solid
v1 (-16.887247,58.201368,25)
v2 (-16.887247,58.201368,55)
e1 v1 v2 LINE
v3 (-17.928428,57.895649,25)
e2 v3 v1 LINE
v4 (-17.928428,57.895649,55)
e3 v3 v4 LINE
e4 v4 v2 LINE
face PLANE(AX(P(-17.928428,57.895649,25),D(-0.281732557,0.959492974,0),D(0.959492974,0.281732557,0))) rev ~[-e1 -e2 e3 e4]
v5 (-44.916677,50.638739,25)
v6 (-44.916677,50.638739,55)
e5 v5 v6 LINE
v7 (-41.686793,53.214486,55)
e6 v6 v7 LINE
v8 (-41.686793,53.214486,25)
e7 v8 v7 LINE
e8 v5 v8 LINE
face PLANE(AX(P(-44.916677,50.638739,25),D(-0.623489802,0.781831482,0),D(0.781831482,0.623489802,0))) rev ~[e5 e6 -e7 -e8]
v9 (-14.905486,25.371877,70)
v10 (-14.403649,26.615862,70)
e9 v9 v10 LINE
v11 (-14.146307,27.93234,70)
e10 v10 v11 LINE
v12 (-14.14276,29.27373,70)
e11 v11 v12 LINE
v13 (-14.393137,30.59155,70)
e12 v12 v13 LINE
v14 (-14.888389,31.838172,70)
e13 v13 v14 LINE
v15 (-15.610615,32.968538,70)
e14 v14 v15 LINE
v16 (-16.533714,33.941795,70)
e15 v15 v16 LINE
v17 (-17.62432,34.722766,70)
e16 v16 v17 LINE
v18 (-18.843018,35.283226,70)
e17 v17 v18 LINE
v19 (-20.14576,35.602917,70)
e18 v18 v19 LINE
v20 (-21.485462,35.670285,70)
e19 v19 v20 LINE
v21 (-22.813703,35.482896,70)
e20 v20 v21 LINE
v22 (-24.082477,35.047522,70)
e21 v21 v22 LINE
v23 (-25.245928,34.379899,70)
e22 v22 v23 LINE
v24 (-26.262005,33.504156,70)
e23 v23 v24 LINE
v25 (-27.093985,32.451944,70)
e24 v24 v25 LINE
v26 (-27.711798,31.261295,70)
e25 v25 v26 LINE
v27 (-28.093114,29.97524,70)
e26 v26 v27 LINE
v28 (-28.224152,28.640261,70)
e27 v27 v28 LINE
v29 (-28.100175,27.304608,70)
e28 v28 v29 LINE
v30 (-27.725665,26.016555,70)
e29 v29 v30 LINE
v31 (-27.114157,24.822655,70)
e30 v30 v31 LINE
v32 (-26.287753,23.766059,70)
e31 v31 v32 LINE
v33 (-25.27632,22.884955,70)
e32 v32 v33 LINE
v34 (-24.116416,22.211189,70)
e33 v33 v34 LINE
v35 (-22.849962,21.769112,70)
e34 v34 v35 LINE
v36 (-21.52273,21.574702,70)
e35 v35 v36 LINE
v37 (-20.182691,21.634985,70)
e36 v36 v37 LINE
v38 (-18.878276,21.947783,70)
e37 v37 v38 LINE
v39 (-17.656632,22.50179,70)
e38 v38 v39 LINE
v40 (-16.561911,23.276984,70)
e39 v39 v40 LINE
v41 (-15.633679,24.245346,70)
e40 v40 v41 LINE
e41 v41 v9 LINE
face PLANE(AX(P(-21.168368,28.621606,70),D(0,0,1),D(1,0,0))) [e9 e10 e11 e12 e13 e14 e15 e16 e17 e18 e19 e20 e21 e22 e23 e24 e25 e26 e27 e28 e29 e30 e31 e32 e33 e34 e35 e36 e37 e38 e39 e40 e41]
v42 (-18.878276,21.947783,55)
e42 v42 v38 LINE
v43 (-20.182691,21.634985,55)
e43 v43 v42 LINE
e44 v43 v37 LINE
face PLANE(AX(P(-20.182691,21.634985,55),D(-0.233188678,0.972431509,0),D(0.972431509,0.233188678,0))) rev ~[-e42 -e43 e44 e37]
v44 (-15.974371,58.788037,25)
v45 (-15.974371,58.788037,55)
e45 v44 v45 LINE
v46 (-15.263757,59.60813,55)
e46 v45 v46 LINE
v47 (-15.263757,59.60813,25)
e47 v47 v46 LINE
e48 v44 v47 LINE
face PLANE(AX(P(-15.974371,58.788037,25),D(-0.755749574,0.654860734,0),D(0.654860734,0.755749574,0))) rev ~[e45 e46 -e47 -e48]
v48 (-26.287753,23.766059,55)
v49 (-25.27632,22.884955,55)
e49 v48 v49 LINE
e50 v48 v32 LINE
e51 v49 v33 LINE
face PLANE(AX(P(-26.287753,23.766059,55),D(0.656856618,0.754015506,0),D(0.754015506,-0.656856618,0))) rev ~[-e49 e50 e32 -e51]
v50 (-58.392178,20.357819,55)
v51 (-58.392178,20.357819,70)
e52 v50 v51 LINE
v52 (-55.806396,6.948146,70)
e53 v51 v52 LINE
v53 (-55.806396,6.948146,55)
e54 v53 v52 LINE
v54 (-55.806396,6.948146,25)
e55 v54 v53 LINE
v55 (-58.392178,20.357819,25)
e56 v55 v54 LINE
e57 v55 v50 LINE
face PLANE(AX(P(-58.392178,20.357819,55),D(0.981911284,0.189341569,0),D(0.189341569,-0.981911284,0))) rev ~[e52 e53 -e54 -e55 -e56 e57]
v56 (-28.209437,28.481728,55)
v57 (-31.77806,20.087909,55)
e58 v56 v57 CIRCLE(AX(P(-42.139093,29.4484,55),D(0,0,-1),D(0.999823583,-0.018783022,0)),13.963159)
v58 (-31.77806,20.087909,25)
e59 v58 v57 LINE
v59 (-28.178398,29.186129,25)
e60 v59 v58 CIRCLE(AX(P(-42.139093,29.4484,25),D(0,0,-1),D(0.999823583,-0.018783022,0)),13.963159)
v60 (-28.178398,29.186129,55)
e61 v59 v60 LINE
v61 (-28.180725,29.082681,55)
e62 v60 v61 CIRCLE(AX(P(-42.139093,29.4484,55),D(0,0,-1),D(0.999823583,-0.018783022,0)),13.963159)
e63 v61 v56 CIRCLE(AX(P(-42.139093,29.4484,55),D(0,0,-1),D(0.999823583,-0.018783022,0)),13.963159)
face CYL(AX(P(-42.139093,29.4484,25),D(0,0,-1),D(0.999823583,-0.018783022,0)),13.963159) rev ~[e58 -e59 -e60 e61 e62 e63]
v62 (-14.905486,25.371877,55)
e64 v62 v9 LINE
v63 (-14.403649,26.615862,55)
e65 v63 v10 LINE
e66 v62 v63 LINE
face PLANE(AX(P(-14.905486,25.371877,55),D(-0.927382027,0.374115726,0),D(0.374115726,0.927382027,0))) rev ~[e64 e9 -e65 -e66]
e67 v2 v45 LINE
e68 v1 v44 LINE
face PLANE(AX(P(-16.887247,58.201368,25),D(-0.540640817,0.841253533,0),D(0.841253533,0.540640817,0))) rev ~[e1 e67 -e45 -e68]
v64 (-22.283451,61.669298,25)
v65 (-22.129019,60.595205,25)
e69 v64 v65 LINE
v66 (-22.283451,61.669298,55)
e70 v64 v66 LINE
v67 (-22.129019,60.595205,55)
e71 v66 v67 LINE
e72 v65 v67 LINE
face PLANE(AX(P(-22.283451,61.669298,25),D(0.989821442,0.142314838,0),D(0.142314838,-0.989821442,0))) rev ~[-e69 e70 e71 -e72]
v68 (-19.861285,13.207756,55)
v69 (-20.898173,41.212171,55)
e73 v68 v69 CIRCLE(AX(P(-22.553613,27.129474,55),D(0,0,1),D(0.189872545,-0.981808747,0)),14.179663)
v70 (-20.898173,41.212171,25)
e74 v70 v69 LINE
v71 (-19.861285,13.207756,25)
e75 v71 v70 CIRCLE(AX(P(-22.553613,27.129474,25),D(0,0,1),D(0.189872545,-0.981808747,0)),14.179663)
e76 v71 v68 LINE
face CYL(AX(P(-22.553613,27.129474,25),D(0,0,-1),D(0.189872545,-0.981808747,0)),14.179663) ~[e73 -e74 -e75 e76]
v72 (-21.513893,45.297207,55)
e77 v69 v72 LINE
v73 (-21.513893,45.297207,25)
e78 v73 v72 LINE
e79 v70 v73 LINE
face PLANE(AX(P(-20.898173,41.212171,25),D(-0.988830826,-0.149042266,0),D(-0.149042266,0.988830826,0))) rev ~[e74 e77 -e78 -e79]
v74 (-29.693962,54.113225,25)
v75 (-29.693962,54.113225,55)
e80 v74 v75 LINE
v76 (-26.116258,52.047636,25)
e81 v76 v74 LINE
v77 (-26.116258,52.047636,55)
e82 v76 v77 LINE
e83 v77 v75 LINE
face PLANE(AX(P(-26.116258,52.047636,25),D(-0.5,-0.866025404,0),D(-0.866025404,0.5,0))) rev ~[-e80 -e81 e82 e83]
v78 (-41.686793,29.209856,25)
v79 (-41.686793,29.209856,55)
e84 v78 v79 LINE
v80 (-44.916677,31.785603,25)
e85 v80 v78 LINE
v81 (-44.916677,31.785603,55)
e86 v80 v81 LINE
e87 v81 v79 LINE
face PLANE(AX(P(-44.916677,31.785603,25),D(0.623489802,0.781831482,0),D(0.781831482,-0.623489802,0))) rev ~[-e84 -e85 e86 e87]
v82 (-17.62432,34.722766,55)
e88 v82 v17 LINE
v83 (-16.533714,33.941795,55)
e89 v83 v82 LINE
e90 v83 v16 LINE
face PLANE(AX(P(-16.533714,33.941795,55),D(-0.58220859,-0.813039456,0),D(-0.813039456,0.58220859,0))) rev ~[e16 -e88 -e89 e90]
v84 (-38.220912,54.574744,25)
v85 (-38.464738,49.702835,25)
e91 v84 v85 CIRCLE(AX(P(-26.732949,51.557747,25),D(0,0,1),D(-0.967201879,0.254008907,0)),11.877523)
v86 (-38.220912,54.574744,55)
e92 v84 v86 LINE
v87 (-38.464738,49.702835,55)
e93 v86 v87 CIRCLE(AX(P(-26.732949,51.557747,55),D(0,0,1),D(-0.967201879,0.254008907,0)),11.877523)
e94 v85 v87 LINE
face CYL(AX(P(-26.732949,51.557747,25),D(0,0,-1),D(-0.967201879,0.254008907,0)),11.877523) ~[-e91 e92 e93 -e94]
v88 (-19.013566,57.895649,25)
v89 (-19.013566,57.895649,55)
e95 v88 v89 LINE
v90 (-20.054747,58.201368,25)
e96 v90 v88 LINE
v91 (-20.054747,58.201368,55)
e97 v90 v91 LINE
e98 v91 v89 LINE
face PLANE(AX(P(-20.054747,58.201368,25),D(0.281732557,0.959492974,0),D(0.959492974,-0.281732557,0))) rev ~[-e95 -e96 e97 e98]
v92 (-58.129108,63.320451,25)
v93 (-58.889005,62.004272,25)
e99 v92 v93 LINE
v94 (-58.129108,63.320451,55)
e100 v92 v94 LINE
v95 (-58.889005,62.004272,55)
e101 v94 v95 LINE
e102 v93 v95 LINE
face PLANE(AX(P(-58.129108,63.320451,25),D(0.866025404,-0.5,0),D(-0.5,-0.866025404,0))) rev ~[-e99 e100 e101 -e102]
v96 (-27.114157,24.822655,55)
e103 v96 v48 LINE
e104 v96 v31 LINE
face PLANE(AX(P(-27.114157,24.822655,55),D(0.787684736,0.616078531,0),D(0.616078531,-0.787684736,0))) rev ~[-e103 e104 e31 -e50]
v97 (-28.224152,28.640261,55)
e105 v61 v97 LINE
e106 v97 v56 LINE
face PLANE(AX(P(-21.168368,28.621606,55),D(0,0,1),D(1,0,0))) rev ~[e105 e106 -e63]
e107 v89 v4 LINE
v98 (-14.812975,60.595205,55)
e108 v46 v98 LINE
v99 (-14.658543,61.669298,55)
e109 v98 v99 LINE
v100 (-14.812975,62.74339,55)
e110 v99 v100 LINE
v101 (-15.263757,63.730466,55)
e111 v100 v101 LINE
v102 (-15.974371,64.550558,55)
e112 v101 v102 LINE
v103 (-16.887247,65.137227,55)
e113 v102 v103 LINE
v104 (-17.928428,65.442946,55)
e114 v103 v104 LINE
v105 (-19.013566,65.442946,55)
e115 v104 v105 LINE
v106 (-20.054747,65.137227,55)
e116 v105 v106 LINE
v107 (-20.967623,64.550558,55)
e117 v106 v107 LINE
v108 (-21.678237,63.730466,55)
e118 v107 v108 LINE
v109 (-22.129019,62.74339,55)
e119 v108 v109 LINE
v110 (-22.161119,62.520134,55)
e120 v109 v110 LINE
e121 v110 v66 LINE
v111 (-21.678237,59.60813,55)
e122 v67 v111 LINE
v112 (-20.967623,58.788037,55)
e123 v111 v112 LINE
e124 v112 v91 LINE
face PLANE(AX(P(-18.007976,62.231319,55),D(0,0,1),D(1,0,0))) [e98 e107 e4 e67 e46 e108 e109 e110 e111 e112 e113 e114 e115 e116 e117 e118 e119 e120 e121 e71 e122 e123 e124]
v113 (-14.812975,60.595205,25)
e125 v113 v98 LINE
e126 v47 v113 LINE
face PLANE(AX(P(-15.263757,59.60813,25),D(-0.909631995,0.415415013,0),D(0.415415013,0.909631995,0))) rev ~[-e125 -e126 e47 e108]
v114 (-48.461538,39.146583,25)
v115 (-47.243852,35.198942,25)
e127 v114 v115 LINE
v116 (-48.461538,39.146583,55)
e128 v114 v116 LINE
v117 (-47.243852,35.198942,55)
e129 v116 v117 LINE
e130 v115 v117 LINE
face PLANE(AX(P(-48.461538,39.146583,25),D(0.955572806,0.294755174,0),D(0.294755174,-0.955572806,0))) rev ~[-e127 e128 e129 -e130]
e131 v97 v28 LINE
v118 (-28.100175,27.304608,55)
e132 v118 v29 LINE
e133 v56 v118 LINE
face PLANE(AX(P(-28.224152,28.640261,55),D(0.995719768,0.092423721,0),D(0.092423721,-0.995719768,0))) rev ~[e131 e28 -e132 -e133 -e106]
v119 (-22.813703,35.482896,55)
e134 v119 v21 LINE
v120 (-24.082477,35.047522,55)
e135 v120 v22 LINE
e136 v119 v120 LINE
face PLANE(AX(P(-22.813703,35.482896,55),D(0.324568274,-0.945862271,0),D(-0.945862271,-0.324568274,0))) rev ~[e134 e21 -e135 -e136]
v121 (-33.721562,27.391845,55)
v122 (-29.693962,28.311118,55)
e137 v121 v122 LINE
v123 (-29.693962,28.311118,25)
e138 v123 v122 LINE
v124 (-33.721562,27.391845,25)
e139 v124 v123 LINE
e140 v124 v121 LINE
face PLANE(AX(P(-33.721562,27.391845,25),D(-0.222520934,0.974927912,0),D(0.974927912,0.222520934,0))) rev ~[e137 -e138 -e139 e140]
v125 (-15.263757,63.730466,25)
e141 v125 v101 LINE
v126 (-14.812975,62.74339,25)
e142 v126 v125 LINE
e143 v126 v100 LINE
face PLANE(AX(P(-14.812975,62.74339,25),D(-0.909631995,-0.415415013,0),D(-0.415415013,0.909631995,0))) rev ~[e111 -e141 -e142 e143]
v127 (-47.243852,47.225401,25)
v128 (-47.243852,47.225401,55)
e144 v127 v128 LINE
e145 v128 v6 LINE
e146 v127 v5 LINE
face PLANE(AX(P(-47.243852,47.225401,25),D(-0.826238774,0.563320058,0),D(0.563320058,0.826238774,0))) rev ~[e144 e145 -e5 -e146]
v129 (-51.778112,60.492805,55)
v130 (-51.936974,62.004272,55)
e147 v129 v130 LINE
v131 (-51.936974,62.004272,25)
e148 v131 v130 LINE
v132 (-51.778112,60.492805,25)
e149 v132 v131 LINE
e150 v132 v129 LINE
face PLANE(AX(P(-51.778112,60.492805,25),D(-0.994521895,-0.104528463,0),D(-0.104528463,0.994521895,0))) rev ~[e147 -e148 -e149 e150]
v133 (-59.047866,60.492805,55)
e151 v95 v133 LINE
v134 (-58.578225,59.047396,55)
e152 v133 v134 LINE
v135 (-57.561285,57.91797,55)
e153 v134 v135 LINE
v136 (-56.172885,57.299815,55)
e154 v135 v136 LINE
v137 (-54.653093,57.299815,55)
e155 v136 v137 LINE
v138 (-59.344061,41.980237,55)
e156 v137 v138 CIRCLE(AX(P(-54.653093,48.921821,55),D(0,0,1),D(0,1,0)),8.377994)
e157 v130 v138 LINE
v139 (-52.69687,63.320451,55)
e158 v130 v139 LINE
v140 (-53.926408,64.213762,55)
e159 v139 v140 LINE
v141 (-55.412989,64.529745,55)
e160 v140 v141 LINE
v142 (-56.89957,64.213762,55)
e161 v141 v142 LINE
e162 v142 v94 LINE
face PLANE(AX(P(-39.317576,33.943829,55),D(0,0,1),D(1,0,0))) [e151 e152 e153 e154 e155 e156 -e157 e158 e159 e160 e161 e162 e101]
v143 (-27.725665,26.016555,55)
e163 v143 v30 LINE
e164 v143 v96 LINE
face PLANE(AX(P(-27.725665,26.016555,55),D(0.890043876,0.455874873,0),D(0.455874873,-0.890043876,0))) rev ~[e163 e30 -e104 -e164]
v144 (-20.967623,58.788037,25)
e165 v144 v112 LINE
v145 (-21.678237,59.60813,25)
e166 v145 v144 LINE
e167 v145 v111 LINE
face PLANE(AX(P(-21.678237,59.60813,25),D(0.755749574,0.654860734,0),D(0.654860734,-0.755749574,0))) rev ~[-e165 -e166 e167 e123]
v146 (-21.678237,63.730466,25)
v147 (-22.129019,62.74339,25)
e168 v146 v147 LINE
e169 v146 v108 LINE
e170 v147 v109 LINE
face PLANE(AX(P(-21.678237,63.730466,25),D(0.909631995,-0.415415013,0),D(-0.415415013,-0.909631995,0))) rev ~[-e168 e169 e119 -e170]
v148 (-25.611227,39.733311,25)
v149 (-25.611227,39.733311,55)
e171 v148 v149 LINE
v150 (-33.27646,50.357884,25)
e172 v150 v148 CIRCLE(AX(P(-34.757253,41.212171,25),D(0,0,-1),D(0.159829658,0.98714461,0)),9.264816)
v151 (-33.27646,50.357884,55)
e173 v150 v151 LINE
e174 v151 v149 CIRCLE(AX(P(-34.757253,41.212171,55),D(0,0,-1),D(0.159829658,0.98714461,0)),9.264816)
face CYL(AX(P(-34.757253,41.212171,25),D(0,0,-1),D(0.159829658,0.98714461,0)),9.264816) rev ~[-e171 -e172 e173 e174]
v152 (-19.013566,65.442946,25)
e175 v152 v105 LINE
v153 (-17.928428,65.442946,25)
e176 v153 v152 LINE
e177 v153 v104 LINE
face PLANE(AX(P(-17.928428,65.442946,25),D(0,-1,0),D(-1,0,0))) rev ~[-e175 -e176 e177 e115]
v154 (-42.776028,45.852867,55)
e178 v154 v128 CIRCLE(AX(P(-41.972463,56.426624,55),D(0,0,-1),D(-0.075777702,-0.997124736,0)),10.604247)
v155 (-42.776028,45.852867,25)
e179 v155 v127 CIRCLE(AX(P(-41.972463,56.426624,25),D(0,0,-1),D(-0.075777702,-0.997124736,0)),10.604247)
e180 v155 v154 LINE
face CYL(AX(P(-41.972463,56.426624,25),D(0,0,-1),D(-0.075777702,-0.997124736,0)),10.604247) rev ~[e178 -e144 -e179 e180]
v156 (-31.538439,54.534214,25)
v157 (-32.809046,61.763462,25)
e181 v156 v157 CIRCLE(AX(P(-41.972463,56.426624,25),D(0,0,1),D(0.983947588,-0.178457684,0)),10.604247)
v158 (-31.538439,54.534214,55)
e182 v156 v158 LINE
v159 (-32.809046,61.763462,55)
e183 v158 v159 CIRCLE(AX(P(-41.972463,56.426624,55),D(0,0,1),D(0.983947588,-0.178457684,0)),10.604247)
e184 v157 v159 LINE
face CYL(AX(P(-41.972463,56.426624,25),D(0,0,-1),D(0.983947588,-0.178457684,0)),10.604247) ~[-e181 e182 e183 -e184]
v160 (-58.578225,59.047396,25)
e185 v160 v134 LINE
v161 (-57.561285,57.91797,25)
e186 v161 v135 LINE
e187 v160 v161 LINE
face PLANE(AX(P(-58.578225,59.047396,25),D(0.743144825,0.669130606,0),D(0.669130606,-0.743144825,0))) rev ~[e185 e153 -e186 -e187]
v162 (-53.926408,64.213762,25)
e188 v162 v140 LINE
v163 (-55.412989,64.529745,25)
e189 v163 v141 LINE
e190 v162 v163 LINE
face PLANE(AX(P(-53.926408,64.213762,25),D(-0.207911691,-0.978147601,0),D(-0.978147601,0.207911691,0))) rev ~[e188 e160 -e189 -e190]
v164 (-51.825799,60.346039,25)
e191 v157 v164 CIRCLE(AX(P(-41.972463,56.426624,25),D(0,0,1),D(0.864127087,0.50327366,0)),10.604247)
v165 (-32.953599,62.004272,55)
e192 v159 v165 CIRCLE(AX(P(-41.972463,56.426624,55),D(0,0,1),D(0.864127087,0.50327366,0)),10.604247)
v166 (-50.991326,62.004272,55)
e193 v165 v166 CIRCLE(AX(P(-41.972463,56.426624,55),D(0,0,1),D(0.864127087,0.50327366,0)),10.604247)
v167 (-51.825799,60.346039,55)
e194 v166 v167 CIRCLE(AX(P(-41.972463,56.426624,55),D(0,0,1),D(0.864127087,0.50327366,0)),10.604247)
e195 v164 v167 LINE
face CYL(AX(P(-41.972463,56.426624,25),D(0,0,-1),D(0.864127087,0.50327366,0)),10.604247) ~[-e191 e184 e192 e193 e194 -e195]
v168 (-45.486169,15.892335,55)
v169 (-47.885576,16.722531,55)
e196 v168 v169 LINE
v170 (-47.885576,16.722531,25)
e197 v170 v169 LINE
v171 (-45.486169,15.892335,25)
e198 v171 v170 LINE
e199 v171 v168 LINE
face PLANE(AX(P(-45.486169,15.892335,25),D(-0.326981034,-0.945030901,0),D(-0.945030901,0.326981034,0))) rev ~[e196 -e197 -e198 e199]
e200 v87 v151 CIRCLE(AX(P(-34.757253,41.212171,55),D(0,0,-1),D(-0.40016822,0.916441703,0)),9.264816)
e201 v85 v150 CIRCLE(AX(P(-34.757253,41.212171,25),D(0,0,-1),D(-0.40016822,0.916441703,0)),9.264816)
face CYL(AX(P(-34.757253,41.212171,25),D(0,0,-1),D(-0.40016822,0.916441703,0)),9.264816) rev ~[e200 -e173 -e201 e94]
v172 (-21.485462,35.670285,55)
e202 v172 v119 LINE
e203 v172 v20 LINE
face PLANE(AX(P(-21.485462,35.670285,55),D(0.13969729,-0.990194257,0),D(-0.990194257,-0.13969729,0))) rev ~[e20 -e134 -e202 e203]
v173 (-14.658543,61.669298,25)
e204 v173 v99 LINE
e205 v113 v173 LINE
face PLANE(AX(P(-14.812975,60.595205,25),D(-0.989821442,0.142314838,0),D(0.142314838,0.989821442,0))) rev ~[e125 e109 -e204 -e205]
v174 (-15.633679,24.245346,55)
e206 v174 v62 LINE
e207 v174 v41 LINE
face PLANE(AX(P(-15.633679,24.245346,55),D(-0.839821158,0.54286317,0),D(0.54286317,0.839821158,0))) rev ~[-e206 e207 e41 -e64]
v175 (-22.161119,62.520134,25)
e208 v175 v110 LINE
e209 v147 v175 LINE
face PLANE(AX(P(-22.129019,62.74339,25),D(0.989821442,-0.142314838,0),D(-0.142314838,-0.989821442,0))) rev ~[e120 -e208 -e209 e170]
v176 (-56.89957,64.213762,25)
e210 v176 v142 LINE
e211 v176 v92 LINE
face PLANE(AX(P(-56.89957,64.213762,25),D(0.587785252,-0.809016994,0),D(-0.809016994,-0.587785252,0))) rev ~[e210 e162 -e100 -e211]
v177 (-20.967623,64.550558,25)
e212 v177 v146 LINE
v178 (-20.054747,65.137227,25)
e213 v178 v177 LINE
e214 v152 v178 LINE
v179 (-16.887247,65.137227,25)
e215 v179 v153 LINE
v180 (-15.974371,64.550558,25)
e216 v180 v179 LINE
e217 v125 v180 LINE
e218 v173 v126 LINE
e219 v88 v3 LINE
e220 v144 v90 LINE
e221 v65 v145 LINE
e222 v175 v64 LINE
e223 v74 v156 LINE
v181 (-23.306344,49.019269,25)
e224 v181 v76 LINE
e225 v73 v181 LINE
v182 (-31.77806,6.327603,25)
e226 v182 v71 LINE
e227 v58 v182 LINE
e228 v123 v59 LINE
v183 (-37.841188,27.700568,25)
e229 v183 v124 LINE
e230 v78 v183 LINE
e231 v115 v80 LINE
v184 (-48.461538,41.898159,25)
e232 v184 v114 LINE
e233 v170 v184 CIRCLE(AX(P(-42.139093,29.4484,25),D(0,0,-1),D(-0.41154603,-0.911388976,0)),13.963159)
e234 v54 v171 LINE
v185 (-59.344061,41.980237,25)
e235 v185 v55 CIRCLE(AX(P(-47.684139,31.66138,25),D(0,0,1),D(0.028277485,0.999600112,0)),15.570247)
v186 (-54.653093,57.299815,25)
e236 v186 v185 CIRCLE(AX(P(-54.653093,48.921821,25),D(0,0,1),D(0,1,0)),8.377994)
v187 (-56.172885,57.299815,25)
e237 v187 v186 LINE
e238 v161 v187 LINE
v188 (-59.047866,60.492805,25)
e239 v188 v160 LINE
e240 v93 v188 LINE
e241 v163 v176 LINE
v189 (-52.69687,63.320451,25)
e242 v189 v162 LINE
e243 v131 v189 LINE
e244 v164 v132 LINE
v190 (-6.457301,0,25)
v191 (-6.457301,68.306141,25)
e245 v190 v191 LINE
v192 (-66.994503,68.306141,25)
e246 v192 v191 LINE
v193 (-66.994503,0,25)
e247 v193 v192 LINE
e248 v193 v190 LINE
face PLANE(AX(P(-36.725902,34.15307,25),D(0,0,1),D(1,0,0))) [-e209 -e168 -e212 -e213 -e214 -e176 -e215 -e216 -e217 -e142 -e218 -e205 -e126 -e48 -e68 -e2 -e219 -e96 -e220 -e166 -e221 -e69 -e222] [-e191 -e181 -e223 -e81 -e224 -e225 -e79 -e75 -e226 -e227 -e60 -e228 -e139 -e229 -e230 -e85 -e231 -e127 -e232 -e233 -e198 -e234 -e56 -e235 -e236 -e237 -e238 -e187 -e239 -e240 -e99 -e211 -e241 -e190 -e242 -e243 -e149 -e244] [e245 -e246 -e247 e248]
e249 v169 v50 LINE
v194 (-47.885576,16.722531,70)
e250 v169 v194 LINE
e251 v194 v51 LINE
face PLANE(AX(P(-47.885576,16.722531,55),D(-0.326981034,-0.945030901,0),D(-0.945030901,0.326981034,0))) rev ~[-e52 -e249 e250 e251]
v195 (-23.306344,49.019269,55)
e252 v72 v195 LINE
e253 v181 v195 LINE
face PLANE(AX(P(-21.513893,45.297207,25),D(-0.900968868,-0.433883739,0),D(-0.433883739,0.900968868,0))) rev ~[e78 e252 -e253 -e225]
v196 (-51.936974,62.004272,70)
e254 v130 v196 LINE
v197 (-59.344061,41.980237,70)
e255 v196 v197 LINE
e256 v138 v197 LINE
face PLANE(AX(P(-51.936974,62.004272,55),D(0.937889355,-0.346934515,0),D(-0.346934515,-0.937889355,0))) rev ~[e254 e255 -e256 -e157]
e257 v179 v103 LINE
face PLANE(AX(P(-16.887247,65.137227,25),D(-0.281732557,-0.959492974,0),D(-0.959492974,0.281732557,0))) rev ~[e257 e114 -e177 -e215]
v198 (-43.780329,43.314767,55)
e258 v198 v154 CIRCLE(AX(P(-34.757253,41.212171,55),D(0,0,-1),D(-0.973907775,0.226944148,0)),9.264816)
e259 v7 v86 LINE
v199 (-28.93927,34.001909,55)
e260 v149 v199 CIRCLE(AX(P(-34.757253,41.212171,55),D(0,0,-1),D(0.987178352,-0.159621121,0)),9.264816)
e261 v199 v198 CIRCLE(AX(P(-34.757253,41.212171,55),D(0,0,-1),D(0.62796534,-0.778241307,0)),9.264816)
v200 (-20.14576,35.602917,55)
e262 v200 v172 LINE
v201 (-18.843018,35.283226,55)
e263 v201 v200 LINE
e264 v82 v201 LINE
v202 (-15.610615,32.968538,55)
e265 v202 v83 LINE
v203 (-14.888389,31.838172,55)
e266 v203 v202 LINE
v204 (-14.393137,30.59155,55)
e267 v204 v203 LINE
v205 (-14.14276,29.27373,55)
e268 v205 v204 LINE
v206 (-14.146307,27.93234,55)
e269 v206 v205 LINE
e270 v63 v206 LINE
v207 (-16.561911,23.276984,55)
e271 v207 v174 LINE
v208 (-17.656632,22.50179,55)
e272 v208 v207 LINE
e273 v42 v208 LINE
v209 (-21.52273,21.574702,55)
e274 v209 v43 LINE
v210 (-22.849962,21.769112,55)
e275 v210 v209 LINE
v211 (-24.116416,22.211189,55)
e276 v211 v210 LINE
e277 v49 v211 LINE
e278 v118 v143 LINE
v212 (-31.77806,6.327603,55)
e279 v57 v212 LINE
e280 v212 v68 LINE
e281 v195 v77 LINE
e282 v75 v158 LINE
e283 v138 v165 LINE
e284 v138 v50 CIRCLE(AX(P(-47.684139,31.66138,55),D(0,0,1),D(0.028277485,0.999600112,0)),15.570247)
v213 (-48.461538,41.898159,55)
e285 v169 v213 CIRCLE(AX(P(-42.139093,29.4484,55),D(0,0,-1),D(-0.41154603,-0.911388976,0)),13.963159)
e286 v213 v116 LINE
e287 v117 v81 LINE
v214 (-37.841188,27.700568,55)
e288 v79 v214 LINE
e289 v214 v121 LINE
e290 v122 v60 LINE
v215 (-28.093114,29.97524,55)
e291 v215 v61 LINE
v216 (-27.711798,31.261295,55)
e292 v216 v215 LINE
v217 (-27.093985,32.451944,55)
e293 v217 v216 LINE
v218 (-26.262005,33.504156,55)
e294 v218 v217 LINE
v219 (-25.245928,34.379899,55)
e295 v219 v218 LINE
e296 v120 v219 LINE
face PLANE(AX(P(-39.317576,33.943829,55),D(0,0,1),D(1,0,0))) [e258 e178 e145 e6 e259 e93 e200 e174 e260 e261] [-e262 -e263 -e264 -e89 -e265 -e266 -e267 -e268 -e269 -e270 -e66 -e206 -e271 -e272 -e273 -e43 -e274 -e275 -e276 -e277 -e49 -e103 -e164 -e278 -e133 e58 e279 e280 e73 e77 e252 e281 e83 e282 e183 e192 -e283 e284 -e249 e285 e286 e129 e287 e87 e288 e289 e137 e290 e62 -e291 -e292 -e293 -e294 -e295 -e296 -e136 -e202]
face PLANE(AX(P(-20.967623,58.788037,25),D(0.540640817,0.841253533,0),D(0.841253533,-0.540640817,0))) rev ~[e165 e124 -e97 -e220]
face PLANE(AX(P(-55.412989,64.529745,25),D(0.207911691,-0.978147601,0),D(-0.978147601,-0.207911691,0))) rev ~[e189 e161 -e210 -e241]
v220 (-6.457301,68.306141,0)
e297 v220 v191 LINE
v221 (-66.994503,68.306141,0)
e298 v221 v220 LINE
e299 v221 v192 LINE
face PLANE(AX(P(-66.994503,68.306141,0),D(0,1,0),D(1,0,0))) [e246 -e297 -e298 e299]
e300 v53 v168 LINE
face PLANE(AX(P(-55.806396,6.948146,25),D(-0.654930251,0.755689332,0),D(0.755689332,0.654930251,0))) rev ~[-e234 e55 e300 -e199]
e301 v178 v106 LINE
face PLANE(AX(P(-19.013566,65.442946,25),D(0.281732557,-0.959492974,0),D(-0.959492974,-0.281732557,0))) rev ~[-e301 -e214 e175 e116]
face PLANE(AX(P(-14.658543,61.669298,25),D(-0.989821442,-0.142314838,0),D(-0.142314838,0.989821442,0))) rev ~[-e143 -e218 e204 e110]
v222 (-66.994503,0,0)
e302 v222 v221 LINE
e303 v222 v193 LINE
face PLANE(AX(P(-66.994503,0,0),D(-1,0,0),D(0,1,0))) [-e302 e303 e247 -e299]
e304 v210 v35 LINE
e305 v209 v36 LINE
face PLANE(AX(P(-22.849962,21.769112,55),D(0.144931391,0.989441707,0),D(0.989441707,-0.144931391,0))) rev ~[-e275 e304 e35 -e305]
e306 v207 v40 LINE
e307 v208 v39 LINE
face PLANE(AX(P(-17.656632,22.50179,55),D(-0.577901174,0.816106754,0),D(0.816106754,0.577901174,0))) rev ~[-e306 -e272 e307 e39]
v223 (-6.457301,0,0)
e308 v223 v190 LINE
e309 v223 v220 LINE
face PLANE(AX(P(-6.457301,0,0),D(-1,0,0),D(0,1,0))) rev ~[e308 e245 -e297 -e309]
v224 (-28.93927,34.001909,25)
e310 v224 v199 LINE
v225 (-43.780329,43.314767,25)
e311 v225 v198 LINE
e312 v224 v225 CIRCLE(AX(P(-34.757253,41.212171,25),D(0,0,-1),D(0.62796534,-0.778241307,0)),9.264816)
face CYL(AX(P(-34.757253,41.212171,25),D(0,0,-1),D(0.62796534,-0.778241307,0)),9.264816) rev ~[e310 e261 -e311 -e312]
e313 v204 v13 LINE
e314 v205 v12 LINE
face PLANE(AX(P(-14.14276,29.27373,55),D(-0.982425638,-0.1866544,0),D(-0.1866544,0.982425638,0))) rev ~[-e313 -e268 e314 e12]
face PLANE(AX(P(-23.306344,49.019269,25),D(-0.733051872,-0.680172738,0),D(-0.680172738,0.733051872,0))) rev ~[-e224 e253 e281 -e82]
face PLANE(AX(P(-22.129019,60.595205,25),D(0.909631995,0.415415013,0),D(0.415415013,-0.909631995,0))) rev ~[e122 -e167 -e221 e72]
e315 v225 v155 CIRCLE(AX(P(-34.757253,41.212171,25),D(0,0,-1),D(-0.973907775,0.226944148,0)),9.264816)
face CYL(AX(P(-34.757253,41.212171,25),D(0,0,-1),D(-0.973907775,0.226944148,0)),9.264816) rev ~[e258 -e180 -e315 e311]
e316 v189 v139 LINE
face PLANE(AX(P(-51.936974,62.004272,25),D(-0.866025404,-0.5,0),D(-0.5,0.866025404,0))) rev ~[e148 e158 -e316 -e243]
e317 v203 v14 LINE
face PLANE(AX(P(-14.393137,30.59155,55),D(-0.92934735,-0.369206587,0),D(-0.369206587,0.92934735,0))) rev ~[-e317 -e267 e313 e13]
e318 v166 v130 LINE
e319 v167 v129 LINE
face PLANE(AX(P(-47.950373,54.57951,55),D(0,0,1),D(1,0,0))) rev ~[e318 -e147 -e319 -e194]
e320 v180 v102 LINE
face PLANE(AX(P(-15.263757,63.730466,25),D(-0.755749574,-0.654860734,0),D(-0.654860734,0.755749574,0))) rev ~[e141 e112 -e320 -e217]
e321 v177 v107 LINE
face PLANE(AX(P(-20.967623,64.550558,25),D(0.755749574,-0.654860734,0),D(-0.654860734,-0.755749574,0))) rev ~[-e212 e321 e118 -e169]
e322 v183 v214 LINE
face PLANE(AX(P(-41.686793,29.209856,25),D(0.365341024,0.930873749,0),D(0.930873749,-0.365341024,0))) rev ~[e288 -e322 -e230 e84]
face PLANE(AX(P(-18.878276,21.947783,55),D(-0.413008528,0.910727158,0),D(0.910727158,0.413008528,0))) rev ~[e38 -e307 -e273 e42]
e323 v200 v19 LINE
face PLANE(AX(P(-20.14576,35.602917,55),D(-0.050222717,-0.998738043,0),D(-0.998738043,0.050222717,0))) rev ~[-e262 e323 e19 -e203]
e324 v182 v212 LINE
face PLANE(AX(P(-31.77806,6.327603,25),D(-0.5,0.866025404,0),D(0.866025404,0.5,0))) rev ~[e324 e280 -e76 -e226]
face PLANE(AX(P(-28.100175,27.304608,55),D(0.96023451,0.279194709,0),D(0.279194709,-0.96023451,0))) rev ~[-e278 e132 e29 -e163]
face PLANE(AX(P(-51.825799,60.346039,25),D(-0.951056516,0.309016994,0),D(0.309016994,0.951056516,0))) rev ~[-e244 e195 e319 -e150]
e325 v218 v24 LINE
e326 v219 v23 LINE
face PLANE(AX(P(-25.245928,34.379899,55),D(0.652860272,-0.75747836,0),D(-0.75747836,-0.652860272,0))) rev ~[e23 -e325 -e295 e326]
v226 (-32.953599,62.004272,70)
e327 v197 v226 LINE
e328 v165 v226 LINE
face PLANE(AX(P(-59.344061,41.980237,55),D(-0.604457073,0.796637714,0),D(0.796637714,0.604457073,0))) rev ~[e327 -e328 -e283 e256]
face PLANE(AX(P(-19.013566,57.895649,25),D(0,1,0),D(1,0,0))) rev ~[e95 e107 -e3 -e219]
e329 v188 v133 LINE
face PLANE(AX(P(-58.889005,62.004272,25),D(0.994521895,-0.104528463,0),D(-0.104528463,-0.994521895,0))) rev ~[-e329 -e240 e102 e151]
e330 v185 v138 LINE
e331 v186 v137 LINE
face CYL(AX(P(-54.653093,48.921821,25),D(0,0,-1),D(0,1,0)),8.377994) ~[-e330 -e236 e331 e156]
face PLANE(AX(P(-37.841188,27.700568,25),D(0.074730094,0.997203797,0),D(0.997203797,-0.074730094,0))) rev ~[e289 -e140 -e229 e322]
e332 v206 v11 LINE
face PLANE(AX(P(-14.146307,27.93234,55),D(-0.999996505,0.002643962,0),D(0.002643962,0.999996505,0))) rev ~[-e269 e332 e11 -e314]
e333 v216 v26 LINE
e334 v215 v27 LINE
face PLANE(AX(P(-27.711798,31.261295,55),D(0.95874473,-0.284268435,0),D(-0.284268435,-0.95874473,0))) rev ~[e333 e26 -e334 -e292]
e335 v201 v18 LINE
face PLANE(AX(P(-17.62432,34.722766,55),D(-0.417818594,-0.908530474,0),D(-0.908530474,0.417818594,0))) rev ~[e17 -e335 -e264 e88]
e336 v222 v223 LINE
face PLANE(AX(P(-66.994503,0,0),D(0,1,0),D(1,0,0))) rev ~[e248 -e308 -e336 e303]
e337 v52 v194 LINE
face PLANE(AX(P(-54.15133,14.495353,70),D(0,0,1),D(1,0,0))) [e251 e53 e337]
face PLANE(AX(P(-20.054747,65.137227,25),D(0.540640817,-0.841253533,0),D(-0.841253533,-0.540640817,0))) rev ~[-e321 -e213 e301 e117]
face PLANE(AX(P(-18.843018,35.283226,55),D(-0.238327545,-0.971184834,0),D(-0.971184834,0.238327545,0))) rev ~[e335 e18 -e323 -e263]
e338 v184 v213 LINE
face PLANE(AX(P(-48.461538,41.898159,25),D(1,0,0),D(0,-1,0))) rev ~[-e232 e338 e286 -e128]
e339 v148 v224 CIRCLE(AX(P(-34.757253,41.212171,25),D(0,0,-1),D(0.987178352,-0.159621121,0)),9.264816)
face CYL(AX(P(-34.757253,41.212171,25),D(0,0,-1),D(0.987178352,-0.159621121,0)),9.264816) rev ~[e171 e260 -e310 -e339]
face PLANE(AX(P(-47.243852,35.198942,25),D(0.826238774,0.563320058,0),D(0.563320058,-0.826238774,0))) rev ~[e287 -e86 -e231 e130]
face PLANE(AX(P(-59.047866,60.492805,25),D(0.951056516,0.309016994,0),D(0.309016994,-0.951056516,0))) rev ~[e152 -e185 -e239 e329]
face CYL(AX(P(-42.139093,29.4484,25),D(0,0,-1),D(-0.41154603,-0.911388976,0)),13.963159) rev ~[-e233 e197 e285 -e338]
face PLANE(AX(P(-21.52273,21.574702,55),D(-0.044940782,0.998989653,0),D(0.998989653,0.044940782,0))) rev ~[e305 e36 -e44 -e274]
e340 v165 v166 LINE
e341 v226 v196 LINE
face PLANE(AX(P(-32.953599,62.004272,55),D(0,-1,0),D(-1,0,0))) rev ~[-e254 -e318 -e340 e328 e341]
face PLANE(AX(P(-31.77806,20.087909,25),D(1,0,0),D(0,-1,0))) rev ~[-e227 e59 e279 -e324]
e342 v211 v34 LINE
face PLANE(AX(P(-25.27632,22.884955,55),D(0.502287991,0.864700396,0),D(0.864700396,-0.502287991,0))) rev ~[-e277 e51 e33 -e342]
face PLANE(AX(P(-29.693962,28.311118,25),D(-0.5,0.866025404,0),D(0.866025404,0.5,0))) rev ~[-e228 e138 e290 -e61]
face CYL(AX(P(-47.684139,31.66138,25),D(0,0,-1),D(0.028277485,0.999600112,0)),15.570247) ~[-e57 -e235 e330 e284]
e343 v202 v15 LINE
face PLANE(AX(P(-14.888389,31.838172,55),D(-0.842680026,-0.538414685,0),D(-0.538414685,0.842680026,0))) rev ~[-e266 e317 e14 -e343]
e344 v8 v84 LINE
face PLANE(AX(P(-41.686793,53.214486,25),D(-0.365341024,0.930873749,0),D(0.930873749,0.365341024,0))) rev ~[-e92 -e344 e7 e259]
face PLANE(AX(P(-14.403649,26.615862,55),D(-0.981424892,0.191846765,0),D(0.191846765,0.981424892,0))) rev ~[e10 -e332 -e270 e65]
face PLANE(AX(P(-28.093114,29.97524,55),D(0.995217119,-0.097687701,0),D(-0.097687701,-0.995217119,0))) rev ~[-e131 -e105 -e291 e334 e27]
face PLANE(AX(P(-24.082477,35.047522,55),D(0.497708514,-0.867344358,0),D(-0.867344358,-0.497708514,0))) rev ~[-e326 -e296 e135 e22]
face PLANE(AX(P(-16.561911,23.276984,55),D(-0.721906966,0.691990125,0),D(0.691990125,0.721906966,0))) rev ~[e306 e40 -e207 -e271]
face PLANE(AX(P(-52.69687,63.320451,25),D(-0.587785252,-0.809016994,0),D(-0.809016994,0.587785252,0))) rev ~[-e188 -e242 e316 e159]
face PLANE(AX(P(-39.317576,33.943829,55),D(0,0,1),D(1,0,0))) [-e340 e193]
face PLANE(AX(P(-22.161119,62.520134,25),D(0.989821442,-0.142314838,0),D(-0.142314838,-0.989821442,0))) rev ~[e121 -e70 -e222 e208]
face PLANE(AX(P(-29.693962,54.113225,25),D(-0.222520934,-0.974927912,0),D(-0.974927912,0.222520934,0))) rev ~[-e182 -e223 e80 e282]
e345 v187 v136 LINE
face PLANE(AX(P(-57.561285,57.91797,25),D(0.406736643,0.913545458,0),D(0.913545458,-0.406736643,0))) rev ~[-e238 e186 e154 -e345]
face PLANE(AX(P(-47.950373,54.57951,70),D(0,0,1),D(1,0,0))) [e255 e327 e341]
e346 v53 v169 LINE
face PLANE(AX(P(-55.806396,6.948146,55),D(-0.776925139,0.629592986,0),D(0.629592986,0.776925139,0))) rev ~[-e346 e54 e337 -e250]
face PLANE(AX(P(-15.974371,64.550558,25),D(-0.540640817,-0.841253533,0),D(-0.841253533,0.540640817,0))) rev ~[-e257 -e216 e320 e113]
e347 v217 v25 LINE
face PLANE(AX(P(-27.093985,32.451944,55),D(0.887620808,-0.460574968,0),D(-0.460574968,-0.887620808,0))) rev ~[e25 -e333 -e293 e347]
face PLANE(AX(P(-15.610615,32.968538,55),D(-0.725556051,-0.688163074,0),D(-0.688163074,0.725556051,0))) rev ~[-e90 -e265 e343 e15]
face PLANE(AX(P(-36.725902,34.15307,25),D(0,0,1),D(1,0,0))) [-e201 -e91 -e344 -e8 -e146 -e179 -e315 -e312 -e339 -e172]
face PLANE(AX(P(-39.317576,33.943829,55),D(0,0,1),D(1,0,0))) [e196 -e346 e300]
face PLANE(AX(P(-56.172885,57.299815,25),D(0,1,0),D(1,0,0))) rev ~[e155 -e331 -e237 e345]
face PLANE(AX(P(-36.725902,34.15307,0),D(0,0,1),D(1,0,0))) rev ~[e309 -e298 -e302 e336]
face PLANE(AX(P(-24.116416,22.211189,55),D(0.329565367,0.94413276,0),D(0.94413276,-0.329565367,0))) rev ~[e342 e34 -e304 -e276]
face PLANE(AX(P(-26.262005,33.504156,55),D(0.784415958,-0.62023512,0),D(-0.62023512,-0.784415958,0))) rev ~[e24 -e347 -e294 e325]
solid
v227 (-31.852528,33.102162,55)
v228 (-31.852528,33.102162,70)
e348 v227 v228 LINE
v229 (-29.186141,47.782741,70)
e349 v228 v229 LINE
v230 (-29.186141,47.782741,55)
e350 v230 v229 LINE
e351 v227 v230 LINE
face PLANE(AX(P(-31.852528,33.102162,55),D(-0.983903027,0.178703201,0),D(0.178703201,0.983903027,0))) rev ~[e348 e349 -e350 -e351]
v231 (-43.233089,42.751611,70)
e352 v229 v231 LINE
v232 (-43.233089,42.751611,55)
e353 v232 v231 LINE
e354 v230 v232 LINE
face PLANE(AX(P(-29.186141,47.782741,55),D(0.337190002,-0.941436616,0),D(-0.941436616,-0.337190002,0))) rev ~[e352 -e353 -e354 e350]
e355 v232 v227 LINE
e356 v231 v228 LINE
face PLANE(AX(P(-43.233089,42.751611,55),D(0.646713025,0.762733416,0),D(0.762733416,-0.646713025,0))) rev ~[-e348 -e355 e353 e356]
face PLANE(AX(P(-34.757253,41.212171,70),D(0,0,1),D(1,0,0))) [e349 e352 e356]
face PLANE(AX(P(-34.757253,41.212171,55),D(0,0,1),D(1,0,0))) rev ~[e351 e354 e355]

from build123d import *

# Parameters (mm, degrees)
F0_W     = 60.5372022837
F0_H     = 68.3061406016
F1_DEPTH = 25
F3_DEPTH = 30
F5_DEPTH = 15


with BuildPart() as f1:
    # F0 (on Top) → F1 (new body)
    with BuildSketch(Plane.XY):
        with Locations((-36.7259019986, 34.1530703008)):
            Rectangle(F0_W, F0_H)
    extrude(amount=F1_DEPTH)

    # F2 (on face) → F3 (join)
    with BuildSketch(Plane.XY.offset(25)):
        with BuildLine():
            Line((-22.1290194054, 62.743389809), (-22.1611187409, 62.5201340268))
            ThreePointArc((-22.1611187409, 62.5201340268), (-19.2077082943, 60.7472143348), (-16.8872465406, 58.2013677664))
            Line((-16.8872465406, 58.2013677664), (-15.9743708465, 58.788037352))
            Line((-15.9743708465, 58.788037352), (-15.2637569545, 59.6081295006))
            Line((-15.2637569545, 59.6081295006), (-14.8129745762, 60.5952052236))
            Line((-14.8129745762, 60.5952052236), (-14.6585434187, 61.6692975163))
            Line((-14.6585434187, 61.6692975163), (-14.8129745762, 62.743389809))
            Line((-14.8129745762, 62.743389809), (-15.2637569545, 63.7304655321))
            Line((-15.2637569545, 63.7304655321), (-15.9743708465, 64.5505576807))
            Line((-15.9743708465, 64.5505576807), (-16.8872465406, 65.1372272663))
            Line((-16.8872465406, 65.1372272663), (-17.9284282773, 65.4429458082))
            Line((-17.9284282773, 65.4429458082), (-19.0135657043, 65.4429458082))
            Line((-19.0135657043, 65.4429458082), (-20.054747441, 65.1372272663))
            Line((-20.054747441, 65.1372272663), (-20.9676231351, 64.5505576807))
            Line((-20.9676231351, 64.5505576807), (-21.6782370271, 63.7304655321))
            Line((-21.6782370271, 63.7304655321), (-22.1290194054, 62.743389809))
        make_face()
        with BuildLine():
            ThreePointArc((-16.8872465406, 58.2013677664), (-19.2077082943, 60.7472143348), (-22.1611187409, 62.5201340268))
            Line((-22.1611187409, 62.5201340268), (-22.2834505629, 61.6692975163))
            Line((-22.2834505629, 61.6692975163), (-22.1290194054, 60.5952052236))
            Line((-22.1290194054, 60.5952052236), (-21.6782370271, 59.6081295006))
            Line((-21.6782370271, 59.6081295006), (-20.9676231351, 58.788037352))
            Line((-20.9676231351, 58.788037352), (-20.054747441, 58.2013677664))
            Line((-20.054747441, 58.2013677664), (-19.0135657043, 57.8956492245))
            Line((-19.0135657043, 57.8956492245), (-17.9284282773, 57.8956492245))
            Line((-17.9284282773, 57.8956492245), (-16.8872465406, 58.2013677664))
        make_face()
        with BuildLine():
            Line((-48.4615378082, 41.8981585313), (-48.4615378082, 39.1465827014))
            Line((-48.4615378082, 39.1465827014), (-47.2438519434, 35.1989420851))
            Line((-47.2438519434, 35.1989420851), (-44.9166769466, 31.7856032745))
            Line((-44.9166769466, 31.7856032745), (-41.686792529, 29.2098564023))
            Line((-41.686792529, 29.2098564023), (-37.8411880951, 27.7005678815))
            Line((-37.8411880951, 27.7005678815), (-33.7215624751, 27.3918446205))
            Line((-33.7215624751, 27.3918446205), (-29.6939624839, 28.3111180359))
            Line((-29.6939624839, 28.3111180359), (-28.1783982184, 29.1861294726))
            ThreePointArc((-28.1783982184, 29.1861294726), (-28.3470166225, 31.6274853373), (-28.9392695125, 34.0019088756))
            ThreePointArc((-28.9392695125, 34.0019088756), (-39.6817311484, 33.3644756914), (-43.7803290259, 43.3147670692))
            ThreePointArc((-43.7803290259, 43.3147670692), (-46.1834406724, 42.8130191671), (-48.4615378082, 41.8981585313))
        make_face()
        with BuildLine():
            ThreePointArc((-47.8855758698, 16.7225310416), (-56.0985992666, 29.1290375757), (-48.4615378082, 41.8981585313))
            Line((-48.4615378082, 41.8981585313), (-48.4615378082, 43.2777599309))
            ThreePointArc((-48.4615378082, 43.2777599309), (-53.6612100365, 40.6027497312), (-59.3440614757, 41.9802367072))
            ThreePointArc((-59.3440614757, 41.9802367072), (-63.2393202989, 30.9765947301), (-58.3921782672, 20.3578192741))
            Line((-58.3921782672, 20.3578192741), (-47.8855758698, 16.7225310416))
        make_face()
        with BuildLine():
            Line((-48.4615378082, 43.2777599309), (-48.4615378082, 41.8981585313))
            ThreePointArc((-48.4615378082, 41.8981585313), (-46.1834406724, 42.8130191671), (-43.7803290259, 43.3147670692))
            ThreePointArc((-43.7803290259, 43.3147670692), (-43.3721622104, 44.6210053314), (-42.7760281809, 45.8528668356))
            ThreePointArc((-42.7760281809, 45.8528668356), (-45.0865004205, 46.289917089), (-47.2438519434, 47.2254005472))
            Line((-47.2438519434, 47.2254005472), (-48.4615378082, 43.2777599309))
        make_face()
        with BuildLine():
            ThreePointArc((-59.3440614757, 41.9802367072), (-53.6612100365, 40.6027497312), (-48.4615378082, 43.2777599309))
            Line((-48.4615378082, 43.2777599309), (-47.2438519434, 47.2254005472))
            ThreePointArc((-47.2438519434, 47.2254005472), (-53.876714481, 45.9471982035), (-59.3440614757, 41.9802367072))
        make_face()
        with BuildLine():
            ThreePointArc((-45.486169294, 15.8923354978), (-46.7047814193, 16.2527835078), (-47.8855758698, 16.7225310416))
            Line((-47.8855758698, 16.7225310416), (-58.3921782672, 20.3578192741))
            Line((-58.3921782672, 20.3578192741), (-55.806396171, 6.9481457536))
            Line((-55.806396171, 6.9481457536), (-45.486169294, 15.8923354978))
        make_face()
        with BuildLine():
            Line((-45.486169294, 15.8923354978), (-47.8855758698, 16.7225310416))
            ThreePointArc((-47.8855758698, 16.7225310416), (-46.7047814193, 16.2527835078), (-45.486169294, 15.8923354978))
        make_face()
        with BuildLine():
            ThreePointArc((-59.3440614757, 41.9802367072), (-53.876714481, 45.9471982035), (-47.2438519434, 47.2254005472))
            Line((-47.2438519434, 47.2254005472), (-44.9166769466, 50.6387393578))
            Line((-44.9166769466, 50.6387393578), (-41.686792529, 53.21448623))
            Line((-41.686792529, 53.21448623), (-38.2209121076, 54.574744058))
            ThreePointArc((-38.2209121076, 54.574744058), (-36.2220725565, 58.7014227602), (-32.8090456732, 61.7634619755))
            ThreePointArc((-32.8090456732, 61.7634619755), (-42.7606691135, 67.0015367598), (-51.825799188, 60.3460387865))
            Line((-51.825799188, 60.3460387865), (-52.247753704, 59.047396319))
            Line((-52.247753704, 59.047396319), (-53.264693363, 57.9179704069))
            Line((-53.264693363, 57.9179704069), (-54.6530928733, 57.2998151183))
            ThreePointArc((-54.6530928733, 57.2998151183), (-62.6639397249, 51.3748019707), (-59.3440614757, 41.9802367072))
        make_face()
        with BuildLine():
            ThreePointArc((-25.6112270877, 39.7333110178), (-26.7452222219, 36.5598407079), (-28.9392695125, 34.0019088756))
            ThreePointArc((-28.9392695125, 34.0019088756), (-28.3470166225, 31.6274853373), (-28.1783982184, 29.1861294726))
            Line((-28.1783982184, 29.1861294726), (-26.1162580557, 30.3767066506))
            Line((-26.1162580557, 30.3767066506), (-23.3063439293, 33.4050738515))
            Line((-23.3063439293, 33.4050738515), (-21.513893306, 37.1271359231))
            Line((-21.513893306, 37.1271359231), (-20.8981732898, 41.2121713161))
            ThreePointArc((-20.8981732898, 41.2121713161), (-23.176972105, 40.225025652), (-25.6112270877, 39.7333110178))
        make_face()
        with BuildLine():
            Line((-56.1728853462, 57.2998151183), (-54.6530928733, 57.2998151183))
            Line((-54.6530928733, 57.2998151183), (-53.264693363, 57.9179704069))
            Line((-53.264693363, 57.9179704069), (-52.247753704, 59.047396319))
            ThreePointArc((-52.247753704, 59.047396319), (-52.0577008848, 59.703516315), (-51.825799188, 60.3460387865))
            Line((-51.825799188, 60.3460387865), (-51.778112002, 60.4928048539))
            Line((-51.778112002, 60.4928048539), (-51.9369735736, 62.0042717447))
            Line((-51.9369735736, 62.0042717447), (-52.6968698101, 63.3204506348))
            Line((-52.6968698101, 63.3204506348), (-53.9264077487, 64.2137622369))
            Line((-53.9264077487, 64.2137622369), (-55.4129891098, 64.5297448597))
            Line((-55.4129891098, 64.5297448597), (-56.8995704708, 64.2137622369))
            Line((-56.8995704708, 64.2137622369), (-58.1291084094, 63.3204506348))
            Line((-58.1291084094, 63.3204506348), (-58.8890046459, 62.0042717447))
            Line((-58.8890046459, 62.0042717447), (-59.0478662176, 60.4928048539))
            Line((-59.0478662176, 60.4928048539), (-58.5782245155, 59.047396319))
            Line((-58.5782245155, 59.047396319), (-57.5612848565, 57.9179704069))
            Line((-57.5612848565, 57.9179704069), (-56.1728853462, 57.2998151183))
        make_face()
        with BuildLine():
            ThreePointArc((-38.2209121076, 54.574744058), (-38.5956254636, 52.1514414918), (-38.4647376729, 49.7028349876))
            ThreePointArc((-38.4647376729, 49.7028349876), (-35.917775225, 50.4040156063), (-33.276460423, 50.3578843983))
            ThreePointArc((-33.276460423, 50.3578843983), (-32.1821663883, 52.3522954386), (-31.538439496, 54.5342144381))
            Line((-31.538439496, 54.5342144381), (-33.7215624751, 55.0324980118))
            Line((-33.7215624751, 55.0324980118), (-37.8411880951, 54.7237747508))
            Line((-37.8411880951, 54.7237747508), (-38.2209121076, 54.574744058))
        make_face()
        with BuildLine():
            ThreePointArc((-25.4924368754, 41.2121713161), (-25.5221821781, 40.4703595313), (-25.6112270877, 39.7333110178))
            ThreePointArc((-25.6112270877, 39.7333110178), (-23.176972105, 40.225025652), (-20.8981732898, 41.2121713161))
            Line((-20.8981732898, 41.2121713161), (-21.513893306, 45.2972067092))
            Line((-21.513893306, 45.2972067092), (-23.3063439293, 49.0192687807))
            Line((-23.3063439293, 49.0192687807), (-26.1162580557, 52.0476359817))
            Line((-26.1162580557, 52.0476359817), (-29.6939624839, 54.1132245964))
            Line((-29.6939624839, 54.1132245964), (-31.538439496, 54.5342144381))
            ThreePointArc((-31.538439496, 54.5342144381), (-32.1821663883, 52.3522954386), (-33.276460423, 50.3578843983))
            ThreePointArc((-33.276460423, 50.3578843983), (-27.7018972848, 47.2170670349), (-25.4924368754, 41.2121713161))
        make_face()
        with BuildLine():
            Line((-26.1162580557, 30.3767066506), (-28.1783982184, 29.1861294726))
            ThreePointArc((-28.1783982184, 29.1861294726), (-29.1552178734, 24.3113994943), (-31.7780598998, 20.087909385))
            Line((-31.7780598998, 20.087909385), (-19.8612846434, 13.2077559829))
            ThreePointArc((-19.8612846434, 13.2077559829), (-8.3836595485, 27.654128901), (-20.8981732898, 41.2121713161))
            Line((-20.8981732898, 41.2121713161), (-21.513893306, 37.1271359231))
            Line((-21.513893306, 37.1271359231), (-23.3063439293, 33.4050738515))
            Line((-23.3063439293, 33.4050738515), (-26.1162580557, 30.3767066506))
        make_face()
        with BuildLine():
            ThreePointArc((-32.8090456732, 61.7634619755), (-36.2220725565, 58.7014227602), (-38.2209121076, 54.574744058))
            Line((-38.2209121076, 54.574744058), (-37.8411880951, 54.7237747508))
            Line((-37.8411880951, 54.7237747508), (-33.7215624751, 55.0324980118))
            Line((-33.7215624751, 55.0324980118), (-31.538439496, 54.5342144381))
            ThreePointArc((-31.538439496, 54.5342144381), (-31.5283054399, 58.2622796706), (-32.8090456732, 61.7634619755))
        make_face()
        Polygon((-19.8612846434, 13.2077559829), (-31.7780598998, 20.087909385), (-31.7780598998, 6.3276025807), align=None)
        with BuildLine():
            ThreePointArc((-51.825799188, 60.3460387865), (-52.0577008848, 59.703516315), (-52.247753704, 59.047396319))
            Line((-52.247753704, 59.047396319), (-51.825799188, 60.3460387865))
        make_face()
    extrude(amount=F3_DEPTH)

    # F4 (on face) → F5, piece 2 (join)
    with BuildSketch(Plane.XY.offset(55)):
        Polygon((-26.2620052687, 33.5041556085), (-27.0939852202, 32.4519443914), (-27.711797928, 31.2612947606), (-28.093114031, 29.9752398961), (-28.2241517719, 28.6402611713), (-28.1001751053, 27.3046081957), (-27.7256648709, 26.0165549478), (-27.1141568443, 24.822655028), (-26.2877525189, 23.76605909), (-25.2763203003, 22.8849552641), (-24.116415984, 22.211188938), (-22.8499615341, 21.7691117825), (-21.5227299142, 21.5747016176), (-20.1826907331, 21.6349849332), (-18.8782764982, 21.9477829334), (-17.6566321386, 22.5017902833), (-16.5619110644, 23.2769837138), (-15.6336793475, 24.2453457148), (-14.9054857006, 25.3718771603), (-14.4036489395, 26.6158622689), (-14.1463067521, 27.9323401774), (-14.1427601557, 29.2737299443), (-14.3931373335, 30.5915502484), (-14.8883890019, 31.8381716304), (-15.6106154753, 32.9685379455), (-16.5337136071, 33.9417948099), (-17.6243202258, 34.7227661848), (-18.8430179666, 35.2832257298), (-20.1457599179, 35.6029169768), (-21.4854615914, 35.6702854511), (-22.8137026779, 35.4828962805), (-24.0824770839, 35.0475221979), (-25.2459279966, 34.379898757), align=None)
        Polygon((-59.3440614757, 41.9802367072), (-32.9535993169, 62.0042717447), (-51.9369735736, 62.0042717447), align=None)
        Polygon((-47.8855758698, 16.7225310416), (-58.3921782672, 20.3578192741), (-55.806396171, 6.9481457536), align=None)
    extrude(amount=F5_DEPTH)


with BuildPart() as f5:
    # F4 (on face) → F5 (new body)
    with BuildSketch(Plane.XY.offset(55)):
        Polygon((-43.2330894863, 42.7516107818), (-31.8525281156, 33.1021616796), (-29.1861407459, 47.782741487), align=None)
    extrude(amount=F5_DEPTH)


solid = Compound([f1.part, f5.part])
